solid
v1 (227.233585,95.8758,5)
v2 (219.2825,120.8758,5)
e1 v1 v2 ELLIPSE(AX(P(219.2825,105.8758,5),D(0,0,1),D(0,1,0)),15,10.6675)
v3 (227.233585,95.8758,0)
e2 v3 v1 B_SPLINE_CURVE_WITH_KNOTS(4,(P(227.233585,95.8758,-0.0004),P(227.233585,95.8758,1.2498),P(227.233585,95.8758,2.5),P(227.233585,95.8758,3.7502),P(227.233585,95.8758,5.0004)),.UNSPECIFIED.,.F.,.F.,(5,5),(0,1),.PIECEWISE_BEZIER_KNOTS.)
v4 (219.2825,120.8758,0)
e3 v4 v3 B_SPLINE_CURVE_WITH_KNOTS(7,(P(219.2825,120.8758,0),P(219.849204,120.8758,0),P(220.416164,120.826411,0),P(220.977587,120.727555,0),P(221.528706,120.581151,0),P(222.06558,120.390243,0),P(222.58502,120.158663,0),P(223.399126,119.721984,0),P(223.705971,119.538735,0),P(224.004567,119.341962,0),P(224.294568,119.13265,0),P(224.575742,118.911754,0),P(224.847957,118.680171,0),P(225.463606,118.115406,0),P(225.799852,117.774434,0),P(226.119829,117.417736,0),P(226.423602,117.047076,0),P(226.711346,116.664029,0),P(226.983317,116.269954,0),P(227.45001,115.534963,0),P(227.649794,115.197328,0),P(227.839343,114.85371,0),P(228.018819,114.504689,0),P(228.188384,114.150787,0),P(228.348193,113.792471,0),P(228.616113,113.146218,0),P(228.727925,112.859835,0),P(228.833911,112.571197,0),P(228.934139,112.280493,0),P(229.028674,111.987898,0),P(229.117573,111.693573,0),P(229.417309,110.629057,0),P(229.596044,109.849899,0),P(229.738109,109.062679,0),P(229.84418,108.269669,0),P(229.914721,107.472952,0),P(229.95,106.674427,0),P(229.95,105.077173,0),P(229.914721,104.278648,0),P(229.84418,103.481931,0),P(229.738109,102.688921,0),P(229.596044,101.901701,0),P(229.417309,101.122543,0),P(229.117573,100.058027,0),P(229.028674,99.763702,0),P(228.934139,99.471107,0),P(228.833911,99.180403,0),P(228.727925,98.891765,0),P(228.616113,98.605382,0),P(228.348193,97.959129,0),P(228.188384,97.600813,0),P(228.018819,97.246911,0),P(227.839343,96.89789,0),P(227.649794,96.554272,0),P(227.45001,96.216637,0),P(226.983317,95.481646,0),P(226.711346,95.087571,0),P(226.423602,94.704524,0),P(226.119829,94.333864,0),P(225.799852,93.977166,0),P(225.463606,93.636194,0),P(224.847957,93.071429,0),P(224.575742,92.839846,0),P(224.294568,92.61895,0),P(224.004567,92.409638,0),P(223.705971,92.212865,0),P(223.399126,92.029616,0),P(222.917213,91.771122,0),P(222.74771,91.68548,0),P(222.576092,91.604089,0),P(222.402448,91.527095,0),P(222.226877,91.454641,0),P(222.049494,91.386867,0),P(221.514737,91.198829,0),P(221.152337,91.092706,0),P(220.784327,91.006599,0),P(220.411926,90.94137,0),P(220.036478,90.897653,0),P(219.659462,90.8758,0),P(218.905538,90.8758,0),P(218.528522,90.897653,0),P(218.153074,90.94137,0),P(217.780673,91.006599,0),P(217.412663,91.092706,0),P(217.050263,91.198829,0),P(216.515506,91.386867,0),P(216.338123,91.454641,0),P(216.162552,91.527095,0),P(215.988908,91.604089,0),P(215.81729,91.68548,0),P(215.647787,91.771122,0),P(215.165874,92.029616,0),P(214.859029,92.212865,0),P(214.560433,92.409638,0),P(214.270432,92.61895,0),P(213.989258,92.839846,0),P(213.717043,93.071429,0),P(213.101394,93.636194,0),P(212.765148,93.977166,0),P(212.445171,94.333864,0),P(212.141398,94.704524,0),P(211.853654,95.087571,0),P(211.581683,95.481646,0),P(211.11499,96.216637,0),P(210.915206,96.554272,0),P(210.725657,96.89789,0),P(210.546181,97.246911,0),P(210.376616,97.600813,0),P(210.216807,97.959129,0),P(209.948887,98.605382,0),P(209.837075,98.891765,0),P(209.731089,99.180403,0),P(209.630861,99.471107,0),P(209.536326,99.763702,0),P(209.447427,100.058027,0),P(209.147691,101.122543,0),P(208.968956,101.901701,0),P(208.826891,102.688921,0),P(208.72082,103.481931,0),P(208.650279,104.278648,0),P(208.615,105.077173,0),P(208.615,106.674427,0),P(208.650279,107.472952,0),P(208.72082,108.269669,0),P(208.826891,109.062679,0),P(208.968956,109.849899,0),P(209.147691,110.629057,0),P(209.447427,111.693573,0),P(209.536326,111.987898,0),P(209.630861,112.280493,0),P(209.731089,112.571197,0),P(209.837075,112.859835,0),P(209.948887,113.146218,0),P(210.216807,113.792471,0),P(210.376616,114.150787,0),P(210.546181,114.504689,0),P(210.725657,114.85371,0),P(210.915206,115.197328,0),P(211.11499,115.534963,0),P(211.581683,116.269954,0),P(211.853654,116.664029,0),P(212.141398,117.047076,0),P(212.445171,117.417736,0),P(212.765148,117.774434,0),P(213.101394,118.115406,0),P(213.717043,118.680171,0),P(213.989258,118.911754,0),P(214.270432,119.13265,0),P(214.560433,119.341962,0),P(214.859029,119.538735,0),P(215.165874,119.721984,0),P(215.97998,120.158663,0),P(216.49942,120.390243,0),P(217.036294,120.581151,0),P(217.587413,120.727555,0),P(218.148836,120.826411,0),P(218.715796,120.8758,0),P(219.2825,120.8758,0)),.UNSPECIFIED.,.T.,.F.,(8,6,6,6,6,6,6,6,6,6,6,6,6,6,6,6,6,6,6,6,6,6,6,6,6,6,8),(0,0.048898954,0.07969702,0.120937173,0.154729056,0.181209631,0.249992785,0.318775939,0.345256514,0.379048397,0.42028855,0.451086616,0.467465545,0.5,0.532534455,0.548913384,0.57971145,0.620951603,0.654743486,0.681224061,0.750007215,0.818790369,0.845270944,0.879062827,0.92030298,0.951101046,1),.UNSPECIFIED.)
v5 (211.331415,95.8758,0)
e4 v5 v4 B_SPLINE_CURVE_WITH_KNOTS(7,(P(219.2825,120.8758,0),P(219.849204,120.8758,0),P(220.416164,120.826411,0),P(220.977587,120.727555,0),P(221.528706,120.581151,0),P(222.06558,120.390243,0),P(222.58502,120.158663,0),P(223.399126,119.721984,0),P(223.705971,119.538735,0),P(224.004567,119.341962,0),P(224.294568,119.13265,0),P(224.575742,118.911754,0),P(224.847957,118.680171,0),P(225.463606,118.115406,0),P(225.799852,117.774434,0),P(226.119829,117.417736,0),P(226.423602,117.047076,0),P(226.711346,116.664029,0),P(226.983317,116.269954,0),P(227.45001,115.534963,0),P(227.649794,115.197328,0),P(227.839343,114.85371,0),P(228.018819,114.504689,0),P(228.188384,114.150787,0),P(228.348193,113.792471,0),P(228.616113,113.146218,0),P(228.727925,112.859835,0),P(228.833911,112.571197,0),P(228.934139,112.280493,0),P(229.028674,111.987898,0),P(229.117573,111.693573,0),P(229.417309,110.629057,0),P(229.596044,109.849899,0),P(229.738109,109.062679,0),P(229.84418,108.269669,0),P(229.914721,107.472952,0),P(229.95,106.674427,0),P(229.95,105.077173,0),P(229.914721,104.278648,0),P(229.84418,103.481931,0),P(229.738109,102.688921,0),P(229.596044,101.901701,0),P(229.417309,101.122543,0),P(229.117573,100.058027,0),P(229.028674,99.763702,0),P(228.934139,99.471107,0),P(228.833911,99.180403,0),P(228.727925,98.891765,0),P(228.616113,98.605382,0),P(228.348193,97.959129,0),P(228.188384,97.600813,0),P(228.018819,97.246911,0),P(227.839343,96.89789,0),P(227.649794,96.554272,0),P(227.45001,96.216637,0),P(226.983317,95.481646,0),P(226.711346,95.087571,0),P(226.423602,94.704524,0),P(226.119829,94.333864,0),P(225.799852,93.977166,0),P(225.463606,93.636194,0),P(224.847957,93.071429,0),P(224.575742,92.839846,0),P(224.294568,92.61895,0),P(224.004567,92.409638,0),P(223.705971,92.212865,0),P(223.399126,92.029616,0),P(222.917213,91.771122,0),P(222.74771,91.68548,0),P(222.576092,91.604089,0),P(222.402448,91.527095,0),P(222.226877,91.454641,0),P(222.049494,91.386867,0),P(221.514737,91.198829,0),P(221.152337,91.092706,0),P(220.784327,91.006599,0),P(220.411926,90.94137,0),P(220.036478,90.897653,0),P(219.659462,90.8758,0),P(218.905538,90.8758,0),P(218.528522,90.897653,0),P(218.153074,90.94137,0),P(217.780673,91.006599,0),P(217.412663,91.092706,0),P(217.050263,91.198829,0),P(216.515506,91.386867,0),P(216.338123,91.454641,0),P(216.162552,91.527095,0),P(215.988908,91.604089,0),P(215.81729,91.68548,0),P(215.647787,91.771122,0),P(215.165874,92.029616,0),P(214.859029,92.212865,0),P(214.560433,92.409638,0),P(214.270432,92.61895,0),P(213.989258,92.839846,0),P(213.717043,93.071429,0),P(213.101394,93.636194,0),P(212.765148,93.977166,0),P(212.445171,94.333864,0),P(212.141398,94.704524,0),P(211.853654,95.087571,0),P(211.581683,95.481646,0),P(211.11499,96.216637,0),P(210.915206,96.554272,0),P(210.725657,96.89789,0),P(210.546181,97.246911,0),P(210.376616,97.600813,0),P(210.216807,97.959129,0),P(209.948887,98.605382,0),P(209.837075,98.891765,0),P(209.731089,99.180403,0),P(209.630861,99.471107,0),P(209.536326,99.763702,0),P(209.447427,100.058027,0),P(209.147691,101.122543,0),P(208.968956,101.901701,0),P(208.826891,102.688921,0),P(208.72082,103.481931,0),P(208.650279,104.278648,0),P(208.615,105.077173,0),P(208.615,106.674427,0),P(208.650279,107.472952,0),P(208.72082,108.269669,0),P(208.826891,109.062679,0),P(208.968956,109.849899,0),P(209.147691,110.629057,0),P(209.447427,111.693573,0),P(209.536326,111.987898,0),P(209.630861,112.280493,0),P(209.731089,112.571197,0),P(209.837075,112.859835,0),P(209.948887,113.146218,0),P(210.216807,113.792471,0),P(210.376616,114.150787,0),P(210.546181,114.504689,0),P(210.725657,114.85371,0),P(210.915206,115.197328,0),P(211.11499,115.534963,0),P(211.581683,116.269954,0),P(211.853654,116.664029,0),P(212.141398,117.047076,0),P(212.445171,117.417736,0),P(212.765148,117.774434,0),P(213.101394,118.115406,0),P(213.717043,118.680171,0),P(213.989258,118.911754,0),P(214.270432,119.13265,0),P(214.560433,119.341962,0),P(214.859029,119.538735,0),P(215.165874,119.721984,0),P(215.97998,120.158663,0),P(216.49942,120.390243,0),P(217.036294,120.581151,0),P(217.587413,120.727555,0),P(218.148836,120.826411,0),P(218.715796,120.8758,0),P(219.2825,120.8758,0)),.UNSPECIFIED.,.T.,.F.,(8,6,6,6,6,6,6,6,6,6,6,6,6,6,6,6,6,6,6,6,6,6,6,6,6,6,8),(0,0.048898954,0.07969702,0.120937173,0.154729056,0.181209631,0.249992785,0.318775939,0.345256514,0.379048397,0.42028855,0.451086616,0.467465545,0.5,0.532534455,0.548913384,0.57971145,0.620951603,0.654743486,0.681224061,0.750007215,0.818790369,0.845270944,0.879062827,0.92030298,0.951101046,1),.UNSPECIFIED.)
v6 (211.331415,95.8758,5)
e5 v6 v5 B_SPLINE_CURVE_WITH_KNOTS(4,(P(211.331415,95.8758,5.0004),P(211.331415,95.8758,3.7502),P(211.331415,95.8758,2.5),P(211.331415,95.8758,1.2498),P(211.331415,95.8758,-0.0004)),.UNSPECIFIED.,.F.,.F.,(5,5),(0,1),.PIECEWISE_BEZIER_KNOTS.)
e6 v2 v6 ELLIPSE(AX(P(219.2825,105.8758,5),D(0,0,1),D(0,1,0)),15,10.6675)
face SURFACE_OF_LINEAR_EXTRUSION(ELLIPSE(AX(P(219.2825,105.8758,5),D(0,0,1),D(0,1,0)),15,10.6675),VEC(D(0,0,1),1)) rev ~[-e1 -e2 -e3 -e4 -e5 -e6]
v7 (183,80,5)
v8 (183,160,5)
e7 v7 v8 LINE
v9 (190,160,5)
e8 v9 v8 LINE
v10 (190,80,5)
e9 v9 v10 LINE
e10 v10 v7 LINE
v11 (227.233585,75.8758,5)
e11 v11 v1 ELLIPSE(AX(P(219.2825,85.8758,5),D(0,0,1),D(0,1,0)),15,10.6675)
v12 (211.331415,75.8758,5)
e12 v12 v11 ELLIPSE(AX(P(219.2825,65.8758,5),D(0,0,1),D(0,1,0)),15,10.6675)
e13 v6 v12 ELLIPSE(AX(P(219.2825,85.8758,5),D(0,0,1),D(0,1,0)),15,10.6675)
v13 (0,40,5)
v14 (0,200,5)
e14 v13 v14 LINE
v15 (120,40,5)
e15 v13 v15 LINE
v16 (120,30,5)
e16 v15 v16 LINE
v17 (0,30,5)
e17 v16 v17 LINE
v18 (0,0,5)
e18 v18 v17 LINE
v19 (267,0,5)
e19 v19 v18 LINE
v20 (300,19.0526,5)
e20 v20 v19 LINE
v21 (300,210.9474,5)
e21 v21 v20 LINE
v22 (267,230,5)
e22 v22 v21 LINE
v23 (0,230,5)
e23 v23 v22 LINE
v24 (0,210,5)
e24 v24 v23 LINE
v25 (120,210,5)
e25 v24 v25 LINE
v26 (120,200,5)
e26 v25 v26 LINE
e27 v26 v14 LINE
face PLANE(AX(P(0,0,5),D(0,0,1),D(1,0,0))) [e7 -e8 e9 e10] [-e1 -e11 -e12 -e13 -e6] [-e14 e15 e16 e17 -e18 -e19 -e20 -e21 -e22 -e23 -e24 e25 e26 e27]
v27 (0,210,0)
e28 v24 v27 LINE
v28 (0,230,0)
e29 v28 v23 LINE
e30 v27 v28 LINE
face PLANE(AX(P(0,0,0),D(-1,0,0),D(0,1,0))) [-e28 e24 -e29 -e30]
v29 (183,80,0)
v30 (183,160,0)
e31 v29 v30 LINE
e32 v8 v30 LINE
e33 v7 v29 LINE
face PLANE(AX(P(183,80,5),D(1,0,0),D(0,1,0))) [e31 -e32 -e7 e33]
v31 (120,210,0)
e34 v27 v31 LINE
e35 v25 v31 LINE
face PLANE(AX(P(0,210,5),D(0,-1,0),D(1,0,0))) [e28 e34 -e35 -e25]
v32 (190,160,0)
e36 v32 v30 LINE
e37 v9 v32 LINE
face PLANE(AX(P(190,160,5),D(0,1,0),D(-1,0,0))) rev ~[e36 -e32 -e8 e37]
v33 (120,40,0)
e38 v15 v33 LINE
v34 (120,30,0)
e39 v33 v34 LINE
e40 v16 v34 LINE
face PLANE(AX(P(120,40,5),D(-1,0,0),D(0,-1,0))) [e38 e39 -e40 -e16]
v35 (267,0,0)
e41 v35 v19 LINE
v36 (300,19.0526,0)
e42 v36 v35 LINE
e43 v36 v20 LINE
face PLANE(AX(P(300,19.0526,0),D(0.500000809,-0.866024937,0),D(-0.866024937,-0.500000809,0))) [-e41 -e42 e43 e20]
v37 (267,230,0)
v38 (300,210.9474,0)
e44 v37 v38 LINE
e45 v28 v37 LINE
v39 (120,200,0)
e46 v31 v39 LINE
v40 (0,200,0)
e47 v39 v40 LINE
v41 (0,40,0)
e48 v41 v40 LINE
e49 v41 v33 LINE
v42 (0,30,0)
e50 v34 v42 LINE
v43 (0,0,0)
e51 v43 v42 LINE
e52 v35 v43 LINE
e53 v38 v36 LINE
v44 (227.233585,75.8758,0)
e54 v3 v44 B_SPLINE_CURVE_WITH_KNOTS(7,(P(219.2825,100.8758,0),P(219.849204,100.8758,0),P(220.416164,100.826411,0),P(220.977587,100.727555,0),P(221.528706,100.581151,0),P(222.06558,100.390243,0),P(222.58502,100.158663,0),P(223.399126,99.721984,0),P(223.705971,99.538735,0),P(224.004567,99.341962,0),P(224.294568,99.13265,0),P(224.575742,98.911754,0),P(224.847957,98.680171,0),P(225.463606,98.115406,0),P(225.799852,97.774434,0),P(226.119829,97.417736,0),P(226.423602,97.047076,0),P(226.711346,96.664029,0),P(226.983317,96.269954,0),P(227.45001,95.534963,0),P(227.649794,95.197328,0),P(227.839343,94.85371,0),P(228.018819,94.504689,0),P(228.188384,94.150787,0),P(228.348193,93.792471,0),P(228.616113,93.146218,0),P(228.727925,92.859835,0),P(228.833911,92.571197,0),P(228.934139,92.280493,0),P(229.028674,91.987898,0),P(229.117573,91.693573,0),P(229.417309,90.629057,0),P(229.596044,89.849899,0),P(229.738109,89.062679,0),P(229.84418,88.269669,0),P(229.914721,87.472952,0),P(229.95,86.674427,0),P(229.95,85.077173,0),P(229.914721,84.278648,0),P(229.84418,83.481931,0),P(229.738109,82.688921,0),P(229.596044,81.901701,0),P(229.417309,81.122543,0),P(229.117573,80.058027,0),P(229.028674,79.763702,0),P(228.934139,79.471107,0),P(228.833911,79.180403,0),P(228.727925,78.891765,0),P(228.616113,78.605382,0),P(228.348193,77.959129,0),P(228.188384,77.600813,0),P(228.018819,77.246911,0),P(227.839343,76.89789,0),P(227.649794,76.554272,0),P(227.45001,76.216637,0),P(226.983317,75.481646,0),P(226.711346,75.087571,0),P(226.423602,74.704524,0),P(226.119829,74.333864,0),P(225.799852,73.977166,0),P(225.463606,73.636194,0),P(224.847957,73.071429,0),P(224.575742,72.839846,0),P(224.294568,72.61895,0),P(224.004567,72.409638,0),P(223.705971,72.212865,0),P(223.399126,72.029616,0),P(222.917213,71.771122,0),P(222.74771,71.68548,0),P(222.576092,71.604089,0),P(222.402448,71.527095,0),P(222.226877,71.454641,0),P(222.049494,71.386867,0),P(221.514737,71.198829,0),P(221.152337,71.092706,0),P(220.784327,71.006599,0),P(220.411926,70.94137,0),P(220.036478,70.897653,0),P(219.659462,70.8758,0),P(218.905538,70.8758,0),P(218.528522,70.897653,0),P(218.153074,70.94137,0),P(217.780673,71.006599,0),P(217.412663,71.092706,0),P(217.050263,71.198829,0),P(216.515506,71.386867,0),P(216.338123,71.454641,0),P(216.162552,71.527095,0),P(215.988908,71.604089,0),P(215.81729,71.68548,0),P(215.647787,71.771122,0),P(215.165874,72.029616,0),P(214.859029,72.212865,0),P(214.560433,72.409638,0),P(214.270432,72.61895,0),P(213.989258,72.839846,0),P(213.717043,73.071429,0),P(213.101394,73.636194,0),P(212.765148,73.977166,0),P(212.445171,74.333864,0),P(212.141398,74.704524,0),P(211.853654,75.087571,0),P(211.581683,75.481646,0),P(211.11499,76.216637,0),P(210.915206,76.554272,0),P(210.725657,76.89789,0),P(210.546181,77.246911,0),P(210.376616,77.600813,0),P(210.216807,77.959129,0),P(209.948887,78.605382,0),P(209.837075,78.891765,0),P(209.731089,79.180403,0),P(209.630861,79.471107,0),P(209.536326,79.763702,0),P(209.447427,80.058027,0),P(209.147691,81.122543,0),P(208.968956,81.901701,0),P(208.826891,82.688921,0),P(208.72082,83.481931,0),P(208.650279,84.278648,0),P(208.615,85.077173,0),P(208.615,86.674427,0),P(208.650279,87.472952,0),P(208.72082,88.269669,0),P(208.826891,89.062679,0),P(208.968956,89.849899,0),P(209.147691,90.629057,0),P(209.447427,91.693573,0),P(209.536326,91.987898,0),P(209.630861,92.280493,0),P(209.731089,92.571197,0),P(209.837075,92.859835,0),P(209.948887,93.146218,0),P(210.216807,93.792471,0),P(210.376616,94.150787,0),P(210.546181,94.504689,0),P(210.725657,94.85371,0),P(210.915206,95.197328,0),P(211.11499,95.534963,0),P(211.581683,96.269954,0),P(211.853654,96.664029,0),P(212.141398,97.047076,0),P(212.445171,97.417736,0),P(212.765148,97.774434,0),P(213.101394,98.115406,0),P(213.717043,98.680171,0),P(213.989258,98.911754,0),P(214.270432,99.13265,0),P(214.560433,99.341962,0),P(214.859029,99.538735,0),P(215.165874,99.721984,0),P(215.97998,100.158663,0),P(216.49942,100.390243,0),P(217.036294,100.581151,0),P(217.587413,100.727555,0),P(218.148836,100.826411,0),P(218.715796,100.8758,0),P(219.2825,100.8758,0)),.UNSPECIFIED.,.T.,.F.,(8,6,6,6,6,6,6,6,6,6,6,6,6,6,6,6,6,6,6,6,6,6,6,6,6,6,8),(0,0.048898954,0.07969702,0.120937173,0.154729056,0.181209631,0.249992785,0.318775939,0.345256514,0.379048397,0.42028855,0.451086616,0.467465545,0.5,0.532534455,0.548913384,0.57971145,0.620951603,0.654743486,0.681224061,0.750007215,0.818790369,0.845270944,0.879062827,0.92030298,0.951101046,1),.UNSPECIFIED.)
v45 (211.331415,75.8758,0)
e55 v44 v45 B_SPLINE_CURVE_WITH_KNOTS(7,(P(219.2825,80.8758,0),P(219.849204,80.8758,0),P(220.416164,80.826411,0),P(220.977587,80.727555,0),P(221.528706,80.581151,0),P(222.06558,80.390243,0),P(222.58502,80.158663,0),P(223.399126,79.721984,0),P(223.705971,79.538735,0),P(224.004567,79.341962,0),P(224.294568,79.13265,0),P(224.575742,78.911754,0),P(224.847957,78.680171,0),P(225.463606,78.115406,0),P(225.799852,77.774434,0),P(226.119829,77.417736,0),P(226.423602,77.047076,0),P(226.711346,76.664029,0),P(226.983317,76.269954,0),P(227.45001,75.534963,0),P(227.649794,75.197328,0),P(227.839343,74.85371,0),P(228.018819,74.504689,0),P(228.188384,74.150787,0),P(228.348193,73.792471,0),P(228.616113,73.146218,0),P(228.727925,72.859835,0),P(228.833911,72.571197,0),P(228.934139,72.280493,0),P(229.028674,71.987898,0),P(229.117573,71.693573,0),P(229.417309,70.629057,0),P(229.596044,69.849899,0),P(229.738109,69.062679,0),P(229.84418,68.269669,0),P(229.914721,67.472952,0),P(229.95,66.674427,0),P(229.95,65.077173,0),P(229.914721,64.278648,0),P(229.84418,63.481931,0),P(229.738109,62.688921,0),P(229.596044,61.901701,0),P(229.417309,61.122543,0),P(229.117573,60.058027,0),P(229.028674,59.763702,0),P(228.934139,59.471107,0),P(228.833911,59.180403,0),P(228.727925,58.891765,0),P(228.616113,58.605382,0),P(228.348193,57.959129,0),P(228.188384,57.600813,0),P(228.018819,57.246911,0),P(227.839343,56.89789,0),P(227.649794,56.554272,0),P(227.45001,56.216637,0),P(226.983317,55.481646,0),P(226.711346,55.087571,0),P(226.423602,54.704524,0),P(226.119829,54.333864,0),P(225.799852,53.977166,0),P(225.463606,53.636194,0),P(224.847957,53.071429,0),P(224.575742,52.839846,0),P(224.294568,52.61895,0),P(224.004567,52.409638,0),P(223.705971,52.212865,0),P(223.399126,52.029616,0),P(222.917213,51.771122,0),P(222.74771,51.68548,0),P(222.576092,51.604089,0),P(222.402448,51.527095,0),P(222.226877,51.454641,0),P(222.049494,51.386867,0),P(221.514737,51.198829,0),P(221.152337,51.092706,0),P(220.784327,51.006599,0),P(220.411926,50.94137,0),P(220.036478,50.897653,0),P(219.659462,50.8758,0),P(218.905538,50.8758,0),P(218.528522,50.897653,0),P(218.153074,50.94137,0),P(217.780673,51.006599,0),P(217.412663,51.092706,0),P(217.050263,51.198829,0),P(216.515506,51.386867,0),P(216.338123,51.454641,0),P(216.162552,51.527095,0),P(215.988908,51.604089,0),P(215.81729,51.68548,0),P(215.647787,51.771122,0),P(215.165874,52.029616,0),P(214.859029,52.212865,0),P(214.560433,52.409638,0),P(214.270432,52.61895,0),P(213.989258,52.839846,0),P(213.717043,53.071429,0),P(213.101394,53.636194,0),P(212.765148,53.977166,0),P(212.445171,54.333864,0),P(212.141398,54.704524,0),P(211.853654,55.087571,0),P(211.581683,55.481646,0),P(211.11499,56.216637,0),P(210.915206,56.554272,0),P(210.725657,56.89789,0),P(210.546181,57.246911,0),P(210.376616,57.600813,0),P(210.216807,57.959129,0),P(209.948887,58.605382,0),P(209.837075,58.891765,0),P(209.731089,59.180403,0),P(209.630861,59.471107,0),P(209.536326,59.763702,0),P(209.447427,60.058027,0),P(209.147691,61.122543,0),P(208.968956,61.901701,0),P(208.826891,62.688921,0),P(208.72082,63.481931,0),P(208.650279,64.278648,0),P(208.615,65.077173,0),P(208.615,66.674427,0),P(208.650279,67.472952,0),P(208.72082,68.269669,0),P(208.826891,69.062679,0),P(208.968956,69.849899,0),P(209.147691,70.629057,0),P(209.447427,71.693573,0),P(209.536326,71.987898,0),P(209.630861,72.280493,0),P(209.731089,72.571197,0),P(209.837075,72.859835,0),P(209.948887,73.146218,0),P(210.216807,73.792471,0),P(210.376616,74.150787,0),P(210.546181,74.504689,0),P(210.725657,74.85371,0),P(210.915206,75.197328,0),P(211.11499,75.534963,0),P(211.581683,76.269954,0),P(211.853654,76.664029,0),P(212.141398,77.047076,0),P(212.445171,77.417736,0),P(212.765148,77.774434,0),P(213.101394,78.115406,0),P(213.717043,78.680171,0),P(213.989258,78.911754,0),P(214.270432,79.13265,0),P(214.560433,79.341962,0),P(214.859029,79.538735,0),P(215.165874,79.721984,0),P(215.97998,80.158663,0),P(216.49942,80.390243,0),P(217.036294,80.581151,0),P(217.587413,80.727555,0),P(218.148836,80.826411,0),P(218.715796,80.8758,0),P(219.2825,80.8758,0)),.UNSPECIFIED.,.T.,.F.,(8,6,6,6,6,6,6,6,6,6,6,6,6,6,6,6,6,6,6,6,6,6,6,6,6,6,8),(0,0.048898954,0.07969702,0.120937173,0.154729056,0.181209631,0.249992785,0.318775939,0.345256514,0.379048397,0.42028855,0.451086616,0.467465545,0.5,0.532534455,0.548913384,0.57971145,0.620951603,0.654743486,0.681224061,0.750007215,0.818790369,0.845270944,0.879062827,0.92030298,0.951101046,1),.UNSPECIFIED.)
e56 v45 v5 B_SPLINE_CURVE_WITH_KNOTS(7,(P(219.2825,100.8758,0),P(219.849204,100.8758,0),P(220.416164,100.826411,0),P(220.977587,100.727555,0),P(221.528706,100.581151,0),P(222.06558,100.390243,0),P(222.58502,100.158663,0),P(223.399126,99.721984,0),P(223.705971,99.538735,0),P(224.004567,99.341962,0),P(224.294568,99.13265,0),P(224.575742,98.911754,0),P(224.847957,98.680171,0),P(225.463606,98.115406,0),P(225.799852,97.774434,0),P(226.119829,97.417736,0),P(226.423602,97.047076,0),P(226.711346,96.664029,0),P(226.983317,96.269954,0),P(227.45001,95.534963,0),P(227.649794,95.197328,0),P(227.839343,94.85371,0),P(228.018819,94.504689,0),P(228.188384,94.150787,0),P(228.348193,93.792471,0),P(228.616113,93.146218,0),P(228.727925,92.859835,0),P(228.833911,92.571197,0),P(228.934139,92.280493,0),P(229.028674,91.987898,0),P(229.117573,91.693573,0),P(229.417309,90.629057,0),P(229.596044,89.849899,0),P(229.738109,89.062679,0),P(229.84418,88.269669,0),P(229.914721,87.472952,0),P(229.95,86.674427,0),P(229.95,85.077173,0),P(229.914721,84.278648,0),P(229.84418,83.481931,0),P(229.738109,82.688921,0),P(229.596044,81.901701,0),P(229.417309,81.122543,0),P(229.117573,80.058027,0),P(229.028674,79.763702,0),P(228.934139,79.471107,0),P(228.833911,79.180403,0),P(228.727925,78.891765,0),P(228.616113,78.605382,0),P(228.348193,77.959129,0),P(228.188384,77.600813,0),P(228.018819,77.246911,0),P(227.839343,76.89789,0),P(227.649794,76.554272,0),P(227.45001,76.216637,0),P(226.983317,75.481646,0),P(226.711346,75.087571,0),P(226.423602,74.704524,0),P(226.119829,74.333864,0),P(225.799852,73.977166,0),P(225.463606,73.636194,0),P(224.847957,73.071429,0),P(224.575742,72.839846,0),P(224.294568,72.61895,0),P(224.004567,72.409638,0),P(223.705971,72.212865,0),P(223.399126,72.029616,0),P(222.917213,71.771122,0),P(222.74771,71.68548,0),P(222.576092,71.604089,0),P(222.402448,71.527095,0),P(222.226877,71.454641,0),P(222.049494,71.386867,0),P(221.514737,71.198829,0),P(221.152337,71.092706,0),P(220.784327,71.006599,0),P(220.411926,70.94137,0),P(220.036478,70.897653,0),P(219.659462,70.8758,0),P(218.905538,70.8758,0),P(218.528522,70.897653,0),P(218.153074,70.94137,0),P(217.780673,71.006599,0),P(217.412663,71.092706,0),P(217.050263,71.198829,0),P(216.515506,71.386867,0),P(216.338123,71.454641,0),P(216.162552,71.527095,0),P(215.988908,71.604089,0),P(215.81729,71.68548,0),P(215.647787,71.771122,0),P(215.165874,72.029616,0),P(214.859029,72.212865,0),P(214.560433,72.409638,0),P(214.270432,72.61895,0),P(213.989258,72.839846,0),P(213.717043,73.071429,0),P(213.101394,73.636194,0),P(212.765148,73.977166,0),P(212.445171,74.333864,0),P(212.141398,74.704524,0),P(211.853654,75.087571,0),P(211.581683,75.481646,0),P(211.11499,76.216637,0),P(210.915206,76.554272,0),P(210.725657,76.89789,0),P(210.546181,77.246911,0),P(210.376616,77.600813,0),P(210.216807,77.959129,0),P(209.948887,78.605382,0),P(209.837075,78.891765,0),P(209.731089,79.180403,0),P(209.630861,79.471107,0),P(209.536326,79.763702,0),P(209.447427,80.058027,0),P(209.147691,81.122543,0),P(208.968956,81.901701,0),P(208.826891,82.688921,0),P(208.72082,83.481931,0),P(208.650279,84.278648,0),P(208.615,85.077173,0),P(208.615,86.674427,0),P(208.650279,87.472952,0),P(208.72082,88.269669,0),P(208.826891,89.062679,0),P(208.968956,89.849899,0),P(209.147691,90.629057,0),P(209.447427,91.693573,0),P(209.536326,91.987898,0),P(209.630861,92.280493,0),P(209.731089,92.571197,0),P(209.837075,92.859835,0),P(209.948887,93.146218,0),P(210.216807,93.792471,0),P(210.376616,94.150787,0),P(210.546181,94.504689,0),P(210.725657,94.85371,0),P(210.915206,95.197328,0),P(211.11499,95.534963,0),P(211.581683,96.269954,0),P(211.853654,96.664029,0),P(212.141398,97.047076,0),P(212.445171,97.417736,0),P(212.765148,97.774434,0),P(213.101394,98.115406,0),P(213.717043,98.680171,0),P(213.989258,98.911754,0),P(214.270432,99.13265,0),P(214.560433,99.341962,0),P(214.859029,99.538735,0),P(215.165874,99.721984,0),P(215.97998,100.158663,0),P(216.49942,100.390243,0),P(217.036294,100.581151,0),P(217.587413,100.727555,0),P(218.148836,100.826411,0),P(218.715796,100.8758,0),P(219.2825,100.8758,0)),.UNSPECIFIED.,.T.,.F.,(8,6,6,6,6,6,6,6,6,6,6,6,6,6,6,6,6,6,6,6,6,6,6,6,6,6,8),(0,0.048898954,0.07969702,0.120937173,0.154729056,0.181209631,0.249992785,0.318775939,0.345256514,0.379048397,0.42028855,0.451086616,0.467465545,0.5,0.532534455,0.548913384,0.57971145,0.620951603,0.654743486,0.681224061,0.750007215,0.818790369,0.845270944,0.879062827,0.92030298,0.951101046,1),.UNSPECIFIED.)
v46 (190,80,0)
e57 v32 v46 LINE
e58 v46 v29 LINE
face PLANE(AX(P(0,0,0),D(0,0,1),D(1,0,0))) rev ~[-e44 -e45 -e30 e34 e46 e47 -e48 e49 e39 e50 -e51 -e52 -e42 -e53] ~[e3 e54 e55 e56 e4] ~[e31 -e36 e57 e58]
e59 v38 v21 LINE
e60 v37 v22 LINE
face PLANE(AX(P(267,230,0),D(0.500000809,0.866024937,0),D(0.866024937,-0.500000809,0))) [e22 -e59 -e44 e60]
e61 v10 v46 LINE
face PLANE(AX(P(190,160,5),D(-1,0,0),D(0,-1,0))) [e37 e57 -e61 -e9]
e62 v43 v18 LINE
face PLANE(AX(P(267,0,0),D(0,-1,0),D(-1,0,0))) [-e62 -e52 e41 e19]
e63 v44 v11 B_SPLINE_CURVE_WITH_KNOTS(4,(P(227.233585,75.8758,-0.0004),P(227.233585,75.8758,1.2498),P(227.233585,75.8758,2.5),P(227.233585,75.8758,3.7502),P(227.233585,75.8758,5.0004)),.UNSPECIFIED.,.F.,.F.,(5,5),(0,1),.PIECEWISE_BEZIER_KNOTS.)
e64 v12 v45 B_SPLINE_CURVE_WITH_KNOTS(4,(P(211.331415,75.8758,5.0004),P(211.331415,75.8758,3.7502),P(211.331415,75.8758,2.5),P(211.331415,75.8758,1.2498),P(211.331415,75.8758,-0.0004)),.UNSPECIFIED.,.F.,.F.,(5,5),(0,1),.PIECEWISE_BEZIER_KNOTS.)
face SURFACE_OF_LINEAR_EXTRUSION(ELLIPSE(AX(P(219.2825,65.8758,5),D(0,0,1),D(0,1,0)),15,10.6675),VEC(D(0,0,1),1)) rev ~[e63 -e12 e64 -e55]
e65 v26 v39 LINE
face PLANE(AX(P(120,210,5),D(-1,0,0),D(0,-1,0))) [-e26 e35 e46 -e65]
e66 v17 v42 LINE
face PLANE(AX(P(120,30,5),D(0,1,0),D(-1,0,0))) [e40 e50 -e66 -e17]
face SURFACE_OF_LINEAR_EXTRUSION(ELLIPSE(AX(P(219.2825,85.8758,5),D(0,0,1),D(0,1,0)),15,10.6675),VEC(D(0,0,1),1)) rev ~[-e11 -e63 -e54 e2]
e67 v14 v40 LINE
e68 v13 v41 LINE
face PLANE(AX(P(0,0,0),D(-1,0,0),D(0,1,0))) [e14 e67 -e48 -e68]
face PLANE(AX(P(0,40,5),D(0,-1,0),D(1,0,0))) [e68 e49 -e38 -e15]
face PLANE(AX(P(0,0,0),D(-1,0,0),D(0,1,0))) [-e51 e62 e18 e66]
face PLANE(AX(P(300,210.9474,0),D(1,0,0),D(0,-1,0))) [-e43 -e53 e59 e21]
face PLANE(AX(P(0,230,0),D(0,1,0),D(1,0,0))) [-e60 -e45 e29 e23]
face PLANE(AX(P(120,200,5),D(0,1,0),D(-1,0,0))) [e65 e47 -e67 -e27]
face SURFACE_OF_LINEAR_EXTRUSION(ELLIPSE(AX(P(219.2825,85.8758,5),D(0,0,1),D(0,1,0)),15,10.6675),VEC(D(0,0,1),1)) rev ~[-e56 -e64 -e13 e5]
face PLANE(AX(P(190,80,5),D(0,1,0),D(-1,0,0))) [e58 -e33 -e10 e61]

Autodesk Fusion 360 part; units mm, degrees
sketch "Sketch1" plane through (0, 0, 0) normal (0, 0, 1) x (1, 0, 0)
  line L0 (0, 0) -> (0, 230)
  line L1 (0, 230) -> (267, 230)
  line L2 (267, 230) -> (300, 210.9474)
  line L3 (300, 19.0526) -> (267, 0)
  line L4 (267, 0) -> (0, 0)
  line L5 (300, 210.9474) -> (300, 19.0526)
  dimension "d1" = 230
  dimension "d2" = 267
  dimension "d3" = 33
  dimension "d4" = 150
  dimension "d5" = 150
extrude "Extrude1" add sketch "Sketch1" along normal blind 5
sketch "Sketch2" plane through (0, 0, 5) normal (0, 0, 1) x (-1, 0, 0)
  line L0 (-300, -210.9474) -> (-267, -230)
  line L1 (-267, -230) -> (0, -230)
  line L2 (0, -230) -> (0, 0)
  line L3 (0, 0) -> (-267, 0)
  line L4 (-267, 0) -> (-300, -19.0526)
  line L5 (-300, -19.0526) -> (-300, -210.9474)
  ellipse E0 centre (-219.2825, -65.8758) end of major axis (-229.95, -65.8758) minor radius 15
  line L6 (-208.6151, -65.8758) -> (-229.95, -65.8758) construction
  line L7 (-219.2825, -50.8758) -> (-219.2825, -80.8758) construction
  dimension "d8" = 30
extrude "Extrude2" cut sketch "Sketch2" against normal through all contours E0
pattern_linear "R-Pattern1" count 3 spacing 20 along (0, 1, 0) of "Extrude2"
sketch "Sketch3" plane through (0, 0, 5) normal (0, 0, 1) x (-1, 0, 0)
  ellipse E0 centre (-219.2825, -85.8758) end of major axis (-219.2825, -100.8758) minor radius 10.6675 (-227.2336, -75.8758) -> (-227.2336, -95.8758) ccw
  ellipse E1 centre (-219.2825, -65.8758) end of major axis (-219.2825, -80.8758) minor radius 10.6675 (-211.3315, -75.8758) -> (-227.2336, -75.8758) ccw
  ellipse E2 centre (-219.2825, -85.8758) end of major axis (-219.2825, -100.8758) minor radius 10.6675 (-211.3315, -95.8758) -> (-211.3315, -75.8758) ccw
  ellipse E3 centre (-219.2825, -105.8758) end of major axis (-219.2825, -120.8758) minor radius 10.6675 (-227.2336, -95.8758) -> (-211.3315, -95.8758) ccw
  line L0 (-300, -210.9474) -> (-267, -230)
  line L1 (-267, -230) -> (0, -230)
  line L2 (0, -230) -> (0, 0)
  line L3 (0, 0) -> (-267, 0)
  line L4 (-267, 0) -> (-300, -19.0526)
  line L5 (-300, -19.0526) -> (-300, -210.9474)
  line L6 (0, -40) -> (-120, -40)
  line L7 (-120, -40) -> (-120, -30)
  line L8 (-120, -30) -> (0, -30)
  line L9 (0, -30) -> (0, -40)
  line L10 (0, -210) -> (-120, -210)
  line L11 (-120, -210) -> (-120, -200)
  line L12 (-120, -200) -> (0, -200)
  line L13 (0, -200) -> (0, -210)
  line L14 (-183, -210) -> (-190, -210)
  line L15 (-190, -210) -> (-190, -30)
  line L16 (-190, -30) -> (-183, -30)
  line L17 (-183, -30) -> (-183, -210)
  line L18 (-190, -160) -> (-183, -160)
  line L19 (-190, -80) -> (-183, -80)
  dimension "d15" = 30
  dimension "d16" = 10
  dimension "d18" = 120
  dimension "d19" = 20
  dimension "d21" = 10
  dimension "d22" = 180
  dimension "d26" = 30
  dimension "d30" = 180
  dimension "d31" = 7
  dimension "d33" = 70
  dimension "d34" = 30
  dimension "d35" = 110
  dimension "d36" = 80
  dimension "d37" = 20
  dimension "d38" = 50
extrude "Extrude4" cut sketch "Sketch3" against normal through all contours L2 L10 L11 L12 L13 | L2 L6 L7 L8 L9
extrude "Extrude6" cut sketch "Sketch3" against normal through all contours L15 L17 L18 L19
